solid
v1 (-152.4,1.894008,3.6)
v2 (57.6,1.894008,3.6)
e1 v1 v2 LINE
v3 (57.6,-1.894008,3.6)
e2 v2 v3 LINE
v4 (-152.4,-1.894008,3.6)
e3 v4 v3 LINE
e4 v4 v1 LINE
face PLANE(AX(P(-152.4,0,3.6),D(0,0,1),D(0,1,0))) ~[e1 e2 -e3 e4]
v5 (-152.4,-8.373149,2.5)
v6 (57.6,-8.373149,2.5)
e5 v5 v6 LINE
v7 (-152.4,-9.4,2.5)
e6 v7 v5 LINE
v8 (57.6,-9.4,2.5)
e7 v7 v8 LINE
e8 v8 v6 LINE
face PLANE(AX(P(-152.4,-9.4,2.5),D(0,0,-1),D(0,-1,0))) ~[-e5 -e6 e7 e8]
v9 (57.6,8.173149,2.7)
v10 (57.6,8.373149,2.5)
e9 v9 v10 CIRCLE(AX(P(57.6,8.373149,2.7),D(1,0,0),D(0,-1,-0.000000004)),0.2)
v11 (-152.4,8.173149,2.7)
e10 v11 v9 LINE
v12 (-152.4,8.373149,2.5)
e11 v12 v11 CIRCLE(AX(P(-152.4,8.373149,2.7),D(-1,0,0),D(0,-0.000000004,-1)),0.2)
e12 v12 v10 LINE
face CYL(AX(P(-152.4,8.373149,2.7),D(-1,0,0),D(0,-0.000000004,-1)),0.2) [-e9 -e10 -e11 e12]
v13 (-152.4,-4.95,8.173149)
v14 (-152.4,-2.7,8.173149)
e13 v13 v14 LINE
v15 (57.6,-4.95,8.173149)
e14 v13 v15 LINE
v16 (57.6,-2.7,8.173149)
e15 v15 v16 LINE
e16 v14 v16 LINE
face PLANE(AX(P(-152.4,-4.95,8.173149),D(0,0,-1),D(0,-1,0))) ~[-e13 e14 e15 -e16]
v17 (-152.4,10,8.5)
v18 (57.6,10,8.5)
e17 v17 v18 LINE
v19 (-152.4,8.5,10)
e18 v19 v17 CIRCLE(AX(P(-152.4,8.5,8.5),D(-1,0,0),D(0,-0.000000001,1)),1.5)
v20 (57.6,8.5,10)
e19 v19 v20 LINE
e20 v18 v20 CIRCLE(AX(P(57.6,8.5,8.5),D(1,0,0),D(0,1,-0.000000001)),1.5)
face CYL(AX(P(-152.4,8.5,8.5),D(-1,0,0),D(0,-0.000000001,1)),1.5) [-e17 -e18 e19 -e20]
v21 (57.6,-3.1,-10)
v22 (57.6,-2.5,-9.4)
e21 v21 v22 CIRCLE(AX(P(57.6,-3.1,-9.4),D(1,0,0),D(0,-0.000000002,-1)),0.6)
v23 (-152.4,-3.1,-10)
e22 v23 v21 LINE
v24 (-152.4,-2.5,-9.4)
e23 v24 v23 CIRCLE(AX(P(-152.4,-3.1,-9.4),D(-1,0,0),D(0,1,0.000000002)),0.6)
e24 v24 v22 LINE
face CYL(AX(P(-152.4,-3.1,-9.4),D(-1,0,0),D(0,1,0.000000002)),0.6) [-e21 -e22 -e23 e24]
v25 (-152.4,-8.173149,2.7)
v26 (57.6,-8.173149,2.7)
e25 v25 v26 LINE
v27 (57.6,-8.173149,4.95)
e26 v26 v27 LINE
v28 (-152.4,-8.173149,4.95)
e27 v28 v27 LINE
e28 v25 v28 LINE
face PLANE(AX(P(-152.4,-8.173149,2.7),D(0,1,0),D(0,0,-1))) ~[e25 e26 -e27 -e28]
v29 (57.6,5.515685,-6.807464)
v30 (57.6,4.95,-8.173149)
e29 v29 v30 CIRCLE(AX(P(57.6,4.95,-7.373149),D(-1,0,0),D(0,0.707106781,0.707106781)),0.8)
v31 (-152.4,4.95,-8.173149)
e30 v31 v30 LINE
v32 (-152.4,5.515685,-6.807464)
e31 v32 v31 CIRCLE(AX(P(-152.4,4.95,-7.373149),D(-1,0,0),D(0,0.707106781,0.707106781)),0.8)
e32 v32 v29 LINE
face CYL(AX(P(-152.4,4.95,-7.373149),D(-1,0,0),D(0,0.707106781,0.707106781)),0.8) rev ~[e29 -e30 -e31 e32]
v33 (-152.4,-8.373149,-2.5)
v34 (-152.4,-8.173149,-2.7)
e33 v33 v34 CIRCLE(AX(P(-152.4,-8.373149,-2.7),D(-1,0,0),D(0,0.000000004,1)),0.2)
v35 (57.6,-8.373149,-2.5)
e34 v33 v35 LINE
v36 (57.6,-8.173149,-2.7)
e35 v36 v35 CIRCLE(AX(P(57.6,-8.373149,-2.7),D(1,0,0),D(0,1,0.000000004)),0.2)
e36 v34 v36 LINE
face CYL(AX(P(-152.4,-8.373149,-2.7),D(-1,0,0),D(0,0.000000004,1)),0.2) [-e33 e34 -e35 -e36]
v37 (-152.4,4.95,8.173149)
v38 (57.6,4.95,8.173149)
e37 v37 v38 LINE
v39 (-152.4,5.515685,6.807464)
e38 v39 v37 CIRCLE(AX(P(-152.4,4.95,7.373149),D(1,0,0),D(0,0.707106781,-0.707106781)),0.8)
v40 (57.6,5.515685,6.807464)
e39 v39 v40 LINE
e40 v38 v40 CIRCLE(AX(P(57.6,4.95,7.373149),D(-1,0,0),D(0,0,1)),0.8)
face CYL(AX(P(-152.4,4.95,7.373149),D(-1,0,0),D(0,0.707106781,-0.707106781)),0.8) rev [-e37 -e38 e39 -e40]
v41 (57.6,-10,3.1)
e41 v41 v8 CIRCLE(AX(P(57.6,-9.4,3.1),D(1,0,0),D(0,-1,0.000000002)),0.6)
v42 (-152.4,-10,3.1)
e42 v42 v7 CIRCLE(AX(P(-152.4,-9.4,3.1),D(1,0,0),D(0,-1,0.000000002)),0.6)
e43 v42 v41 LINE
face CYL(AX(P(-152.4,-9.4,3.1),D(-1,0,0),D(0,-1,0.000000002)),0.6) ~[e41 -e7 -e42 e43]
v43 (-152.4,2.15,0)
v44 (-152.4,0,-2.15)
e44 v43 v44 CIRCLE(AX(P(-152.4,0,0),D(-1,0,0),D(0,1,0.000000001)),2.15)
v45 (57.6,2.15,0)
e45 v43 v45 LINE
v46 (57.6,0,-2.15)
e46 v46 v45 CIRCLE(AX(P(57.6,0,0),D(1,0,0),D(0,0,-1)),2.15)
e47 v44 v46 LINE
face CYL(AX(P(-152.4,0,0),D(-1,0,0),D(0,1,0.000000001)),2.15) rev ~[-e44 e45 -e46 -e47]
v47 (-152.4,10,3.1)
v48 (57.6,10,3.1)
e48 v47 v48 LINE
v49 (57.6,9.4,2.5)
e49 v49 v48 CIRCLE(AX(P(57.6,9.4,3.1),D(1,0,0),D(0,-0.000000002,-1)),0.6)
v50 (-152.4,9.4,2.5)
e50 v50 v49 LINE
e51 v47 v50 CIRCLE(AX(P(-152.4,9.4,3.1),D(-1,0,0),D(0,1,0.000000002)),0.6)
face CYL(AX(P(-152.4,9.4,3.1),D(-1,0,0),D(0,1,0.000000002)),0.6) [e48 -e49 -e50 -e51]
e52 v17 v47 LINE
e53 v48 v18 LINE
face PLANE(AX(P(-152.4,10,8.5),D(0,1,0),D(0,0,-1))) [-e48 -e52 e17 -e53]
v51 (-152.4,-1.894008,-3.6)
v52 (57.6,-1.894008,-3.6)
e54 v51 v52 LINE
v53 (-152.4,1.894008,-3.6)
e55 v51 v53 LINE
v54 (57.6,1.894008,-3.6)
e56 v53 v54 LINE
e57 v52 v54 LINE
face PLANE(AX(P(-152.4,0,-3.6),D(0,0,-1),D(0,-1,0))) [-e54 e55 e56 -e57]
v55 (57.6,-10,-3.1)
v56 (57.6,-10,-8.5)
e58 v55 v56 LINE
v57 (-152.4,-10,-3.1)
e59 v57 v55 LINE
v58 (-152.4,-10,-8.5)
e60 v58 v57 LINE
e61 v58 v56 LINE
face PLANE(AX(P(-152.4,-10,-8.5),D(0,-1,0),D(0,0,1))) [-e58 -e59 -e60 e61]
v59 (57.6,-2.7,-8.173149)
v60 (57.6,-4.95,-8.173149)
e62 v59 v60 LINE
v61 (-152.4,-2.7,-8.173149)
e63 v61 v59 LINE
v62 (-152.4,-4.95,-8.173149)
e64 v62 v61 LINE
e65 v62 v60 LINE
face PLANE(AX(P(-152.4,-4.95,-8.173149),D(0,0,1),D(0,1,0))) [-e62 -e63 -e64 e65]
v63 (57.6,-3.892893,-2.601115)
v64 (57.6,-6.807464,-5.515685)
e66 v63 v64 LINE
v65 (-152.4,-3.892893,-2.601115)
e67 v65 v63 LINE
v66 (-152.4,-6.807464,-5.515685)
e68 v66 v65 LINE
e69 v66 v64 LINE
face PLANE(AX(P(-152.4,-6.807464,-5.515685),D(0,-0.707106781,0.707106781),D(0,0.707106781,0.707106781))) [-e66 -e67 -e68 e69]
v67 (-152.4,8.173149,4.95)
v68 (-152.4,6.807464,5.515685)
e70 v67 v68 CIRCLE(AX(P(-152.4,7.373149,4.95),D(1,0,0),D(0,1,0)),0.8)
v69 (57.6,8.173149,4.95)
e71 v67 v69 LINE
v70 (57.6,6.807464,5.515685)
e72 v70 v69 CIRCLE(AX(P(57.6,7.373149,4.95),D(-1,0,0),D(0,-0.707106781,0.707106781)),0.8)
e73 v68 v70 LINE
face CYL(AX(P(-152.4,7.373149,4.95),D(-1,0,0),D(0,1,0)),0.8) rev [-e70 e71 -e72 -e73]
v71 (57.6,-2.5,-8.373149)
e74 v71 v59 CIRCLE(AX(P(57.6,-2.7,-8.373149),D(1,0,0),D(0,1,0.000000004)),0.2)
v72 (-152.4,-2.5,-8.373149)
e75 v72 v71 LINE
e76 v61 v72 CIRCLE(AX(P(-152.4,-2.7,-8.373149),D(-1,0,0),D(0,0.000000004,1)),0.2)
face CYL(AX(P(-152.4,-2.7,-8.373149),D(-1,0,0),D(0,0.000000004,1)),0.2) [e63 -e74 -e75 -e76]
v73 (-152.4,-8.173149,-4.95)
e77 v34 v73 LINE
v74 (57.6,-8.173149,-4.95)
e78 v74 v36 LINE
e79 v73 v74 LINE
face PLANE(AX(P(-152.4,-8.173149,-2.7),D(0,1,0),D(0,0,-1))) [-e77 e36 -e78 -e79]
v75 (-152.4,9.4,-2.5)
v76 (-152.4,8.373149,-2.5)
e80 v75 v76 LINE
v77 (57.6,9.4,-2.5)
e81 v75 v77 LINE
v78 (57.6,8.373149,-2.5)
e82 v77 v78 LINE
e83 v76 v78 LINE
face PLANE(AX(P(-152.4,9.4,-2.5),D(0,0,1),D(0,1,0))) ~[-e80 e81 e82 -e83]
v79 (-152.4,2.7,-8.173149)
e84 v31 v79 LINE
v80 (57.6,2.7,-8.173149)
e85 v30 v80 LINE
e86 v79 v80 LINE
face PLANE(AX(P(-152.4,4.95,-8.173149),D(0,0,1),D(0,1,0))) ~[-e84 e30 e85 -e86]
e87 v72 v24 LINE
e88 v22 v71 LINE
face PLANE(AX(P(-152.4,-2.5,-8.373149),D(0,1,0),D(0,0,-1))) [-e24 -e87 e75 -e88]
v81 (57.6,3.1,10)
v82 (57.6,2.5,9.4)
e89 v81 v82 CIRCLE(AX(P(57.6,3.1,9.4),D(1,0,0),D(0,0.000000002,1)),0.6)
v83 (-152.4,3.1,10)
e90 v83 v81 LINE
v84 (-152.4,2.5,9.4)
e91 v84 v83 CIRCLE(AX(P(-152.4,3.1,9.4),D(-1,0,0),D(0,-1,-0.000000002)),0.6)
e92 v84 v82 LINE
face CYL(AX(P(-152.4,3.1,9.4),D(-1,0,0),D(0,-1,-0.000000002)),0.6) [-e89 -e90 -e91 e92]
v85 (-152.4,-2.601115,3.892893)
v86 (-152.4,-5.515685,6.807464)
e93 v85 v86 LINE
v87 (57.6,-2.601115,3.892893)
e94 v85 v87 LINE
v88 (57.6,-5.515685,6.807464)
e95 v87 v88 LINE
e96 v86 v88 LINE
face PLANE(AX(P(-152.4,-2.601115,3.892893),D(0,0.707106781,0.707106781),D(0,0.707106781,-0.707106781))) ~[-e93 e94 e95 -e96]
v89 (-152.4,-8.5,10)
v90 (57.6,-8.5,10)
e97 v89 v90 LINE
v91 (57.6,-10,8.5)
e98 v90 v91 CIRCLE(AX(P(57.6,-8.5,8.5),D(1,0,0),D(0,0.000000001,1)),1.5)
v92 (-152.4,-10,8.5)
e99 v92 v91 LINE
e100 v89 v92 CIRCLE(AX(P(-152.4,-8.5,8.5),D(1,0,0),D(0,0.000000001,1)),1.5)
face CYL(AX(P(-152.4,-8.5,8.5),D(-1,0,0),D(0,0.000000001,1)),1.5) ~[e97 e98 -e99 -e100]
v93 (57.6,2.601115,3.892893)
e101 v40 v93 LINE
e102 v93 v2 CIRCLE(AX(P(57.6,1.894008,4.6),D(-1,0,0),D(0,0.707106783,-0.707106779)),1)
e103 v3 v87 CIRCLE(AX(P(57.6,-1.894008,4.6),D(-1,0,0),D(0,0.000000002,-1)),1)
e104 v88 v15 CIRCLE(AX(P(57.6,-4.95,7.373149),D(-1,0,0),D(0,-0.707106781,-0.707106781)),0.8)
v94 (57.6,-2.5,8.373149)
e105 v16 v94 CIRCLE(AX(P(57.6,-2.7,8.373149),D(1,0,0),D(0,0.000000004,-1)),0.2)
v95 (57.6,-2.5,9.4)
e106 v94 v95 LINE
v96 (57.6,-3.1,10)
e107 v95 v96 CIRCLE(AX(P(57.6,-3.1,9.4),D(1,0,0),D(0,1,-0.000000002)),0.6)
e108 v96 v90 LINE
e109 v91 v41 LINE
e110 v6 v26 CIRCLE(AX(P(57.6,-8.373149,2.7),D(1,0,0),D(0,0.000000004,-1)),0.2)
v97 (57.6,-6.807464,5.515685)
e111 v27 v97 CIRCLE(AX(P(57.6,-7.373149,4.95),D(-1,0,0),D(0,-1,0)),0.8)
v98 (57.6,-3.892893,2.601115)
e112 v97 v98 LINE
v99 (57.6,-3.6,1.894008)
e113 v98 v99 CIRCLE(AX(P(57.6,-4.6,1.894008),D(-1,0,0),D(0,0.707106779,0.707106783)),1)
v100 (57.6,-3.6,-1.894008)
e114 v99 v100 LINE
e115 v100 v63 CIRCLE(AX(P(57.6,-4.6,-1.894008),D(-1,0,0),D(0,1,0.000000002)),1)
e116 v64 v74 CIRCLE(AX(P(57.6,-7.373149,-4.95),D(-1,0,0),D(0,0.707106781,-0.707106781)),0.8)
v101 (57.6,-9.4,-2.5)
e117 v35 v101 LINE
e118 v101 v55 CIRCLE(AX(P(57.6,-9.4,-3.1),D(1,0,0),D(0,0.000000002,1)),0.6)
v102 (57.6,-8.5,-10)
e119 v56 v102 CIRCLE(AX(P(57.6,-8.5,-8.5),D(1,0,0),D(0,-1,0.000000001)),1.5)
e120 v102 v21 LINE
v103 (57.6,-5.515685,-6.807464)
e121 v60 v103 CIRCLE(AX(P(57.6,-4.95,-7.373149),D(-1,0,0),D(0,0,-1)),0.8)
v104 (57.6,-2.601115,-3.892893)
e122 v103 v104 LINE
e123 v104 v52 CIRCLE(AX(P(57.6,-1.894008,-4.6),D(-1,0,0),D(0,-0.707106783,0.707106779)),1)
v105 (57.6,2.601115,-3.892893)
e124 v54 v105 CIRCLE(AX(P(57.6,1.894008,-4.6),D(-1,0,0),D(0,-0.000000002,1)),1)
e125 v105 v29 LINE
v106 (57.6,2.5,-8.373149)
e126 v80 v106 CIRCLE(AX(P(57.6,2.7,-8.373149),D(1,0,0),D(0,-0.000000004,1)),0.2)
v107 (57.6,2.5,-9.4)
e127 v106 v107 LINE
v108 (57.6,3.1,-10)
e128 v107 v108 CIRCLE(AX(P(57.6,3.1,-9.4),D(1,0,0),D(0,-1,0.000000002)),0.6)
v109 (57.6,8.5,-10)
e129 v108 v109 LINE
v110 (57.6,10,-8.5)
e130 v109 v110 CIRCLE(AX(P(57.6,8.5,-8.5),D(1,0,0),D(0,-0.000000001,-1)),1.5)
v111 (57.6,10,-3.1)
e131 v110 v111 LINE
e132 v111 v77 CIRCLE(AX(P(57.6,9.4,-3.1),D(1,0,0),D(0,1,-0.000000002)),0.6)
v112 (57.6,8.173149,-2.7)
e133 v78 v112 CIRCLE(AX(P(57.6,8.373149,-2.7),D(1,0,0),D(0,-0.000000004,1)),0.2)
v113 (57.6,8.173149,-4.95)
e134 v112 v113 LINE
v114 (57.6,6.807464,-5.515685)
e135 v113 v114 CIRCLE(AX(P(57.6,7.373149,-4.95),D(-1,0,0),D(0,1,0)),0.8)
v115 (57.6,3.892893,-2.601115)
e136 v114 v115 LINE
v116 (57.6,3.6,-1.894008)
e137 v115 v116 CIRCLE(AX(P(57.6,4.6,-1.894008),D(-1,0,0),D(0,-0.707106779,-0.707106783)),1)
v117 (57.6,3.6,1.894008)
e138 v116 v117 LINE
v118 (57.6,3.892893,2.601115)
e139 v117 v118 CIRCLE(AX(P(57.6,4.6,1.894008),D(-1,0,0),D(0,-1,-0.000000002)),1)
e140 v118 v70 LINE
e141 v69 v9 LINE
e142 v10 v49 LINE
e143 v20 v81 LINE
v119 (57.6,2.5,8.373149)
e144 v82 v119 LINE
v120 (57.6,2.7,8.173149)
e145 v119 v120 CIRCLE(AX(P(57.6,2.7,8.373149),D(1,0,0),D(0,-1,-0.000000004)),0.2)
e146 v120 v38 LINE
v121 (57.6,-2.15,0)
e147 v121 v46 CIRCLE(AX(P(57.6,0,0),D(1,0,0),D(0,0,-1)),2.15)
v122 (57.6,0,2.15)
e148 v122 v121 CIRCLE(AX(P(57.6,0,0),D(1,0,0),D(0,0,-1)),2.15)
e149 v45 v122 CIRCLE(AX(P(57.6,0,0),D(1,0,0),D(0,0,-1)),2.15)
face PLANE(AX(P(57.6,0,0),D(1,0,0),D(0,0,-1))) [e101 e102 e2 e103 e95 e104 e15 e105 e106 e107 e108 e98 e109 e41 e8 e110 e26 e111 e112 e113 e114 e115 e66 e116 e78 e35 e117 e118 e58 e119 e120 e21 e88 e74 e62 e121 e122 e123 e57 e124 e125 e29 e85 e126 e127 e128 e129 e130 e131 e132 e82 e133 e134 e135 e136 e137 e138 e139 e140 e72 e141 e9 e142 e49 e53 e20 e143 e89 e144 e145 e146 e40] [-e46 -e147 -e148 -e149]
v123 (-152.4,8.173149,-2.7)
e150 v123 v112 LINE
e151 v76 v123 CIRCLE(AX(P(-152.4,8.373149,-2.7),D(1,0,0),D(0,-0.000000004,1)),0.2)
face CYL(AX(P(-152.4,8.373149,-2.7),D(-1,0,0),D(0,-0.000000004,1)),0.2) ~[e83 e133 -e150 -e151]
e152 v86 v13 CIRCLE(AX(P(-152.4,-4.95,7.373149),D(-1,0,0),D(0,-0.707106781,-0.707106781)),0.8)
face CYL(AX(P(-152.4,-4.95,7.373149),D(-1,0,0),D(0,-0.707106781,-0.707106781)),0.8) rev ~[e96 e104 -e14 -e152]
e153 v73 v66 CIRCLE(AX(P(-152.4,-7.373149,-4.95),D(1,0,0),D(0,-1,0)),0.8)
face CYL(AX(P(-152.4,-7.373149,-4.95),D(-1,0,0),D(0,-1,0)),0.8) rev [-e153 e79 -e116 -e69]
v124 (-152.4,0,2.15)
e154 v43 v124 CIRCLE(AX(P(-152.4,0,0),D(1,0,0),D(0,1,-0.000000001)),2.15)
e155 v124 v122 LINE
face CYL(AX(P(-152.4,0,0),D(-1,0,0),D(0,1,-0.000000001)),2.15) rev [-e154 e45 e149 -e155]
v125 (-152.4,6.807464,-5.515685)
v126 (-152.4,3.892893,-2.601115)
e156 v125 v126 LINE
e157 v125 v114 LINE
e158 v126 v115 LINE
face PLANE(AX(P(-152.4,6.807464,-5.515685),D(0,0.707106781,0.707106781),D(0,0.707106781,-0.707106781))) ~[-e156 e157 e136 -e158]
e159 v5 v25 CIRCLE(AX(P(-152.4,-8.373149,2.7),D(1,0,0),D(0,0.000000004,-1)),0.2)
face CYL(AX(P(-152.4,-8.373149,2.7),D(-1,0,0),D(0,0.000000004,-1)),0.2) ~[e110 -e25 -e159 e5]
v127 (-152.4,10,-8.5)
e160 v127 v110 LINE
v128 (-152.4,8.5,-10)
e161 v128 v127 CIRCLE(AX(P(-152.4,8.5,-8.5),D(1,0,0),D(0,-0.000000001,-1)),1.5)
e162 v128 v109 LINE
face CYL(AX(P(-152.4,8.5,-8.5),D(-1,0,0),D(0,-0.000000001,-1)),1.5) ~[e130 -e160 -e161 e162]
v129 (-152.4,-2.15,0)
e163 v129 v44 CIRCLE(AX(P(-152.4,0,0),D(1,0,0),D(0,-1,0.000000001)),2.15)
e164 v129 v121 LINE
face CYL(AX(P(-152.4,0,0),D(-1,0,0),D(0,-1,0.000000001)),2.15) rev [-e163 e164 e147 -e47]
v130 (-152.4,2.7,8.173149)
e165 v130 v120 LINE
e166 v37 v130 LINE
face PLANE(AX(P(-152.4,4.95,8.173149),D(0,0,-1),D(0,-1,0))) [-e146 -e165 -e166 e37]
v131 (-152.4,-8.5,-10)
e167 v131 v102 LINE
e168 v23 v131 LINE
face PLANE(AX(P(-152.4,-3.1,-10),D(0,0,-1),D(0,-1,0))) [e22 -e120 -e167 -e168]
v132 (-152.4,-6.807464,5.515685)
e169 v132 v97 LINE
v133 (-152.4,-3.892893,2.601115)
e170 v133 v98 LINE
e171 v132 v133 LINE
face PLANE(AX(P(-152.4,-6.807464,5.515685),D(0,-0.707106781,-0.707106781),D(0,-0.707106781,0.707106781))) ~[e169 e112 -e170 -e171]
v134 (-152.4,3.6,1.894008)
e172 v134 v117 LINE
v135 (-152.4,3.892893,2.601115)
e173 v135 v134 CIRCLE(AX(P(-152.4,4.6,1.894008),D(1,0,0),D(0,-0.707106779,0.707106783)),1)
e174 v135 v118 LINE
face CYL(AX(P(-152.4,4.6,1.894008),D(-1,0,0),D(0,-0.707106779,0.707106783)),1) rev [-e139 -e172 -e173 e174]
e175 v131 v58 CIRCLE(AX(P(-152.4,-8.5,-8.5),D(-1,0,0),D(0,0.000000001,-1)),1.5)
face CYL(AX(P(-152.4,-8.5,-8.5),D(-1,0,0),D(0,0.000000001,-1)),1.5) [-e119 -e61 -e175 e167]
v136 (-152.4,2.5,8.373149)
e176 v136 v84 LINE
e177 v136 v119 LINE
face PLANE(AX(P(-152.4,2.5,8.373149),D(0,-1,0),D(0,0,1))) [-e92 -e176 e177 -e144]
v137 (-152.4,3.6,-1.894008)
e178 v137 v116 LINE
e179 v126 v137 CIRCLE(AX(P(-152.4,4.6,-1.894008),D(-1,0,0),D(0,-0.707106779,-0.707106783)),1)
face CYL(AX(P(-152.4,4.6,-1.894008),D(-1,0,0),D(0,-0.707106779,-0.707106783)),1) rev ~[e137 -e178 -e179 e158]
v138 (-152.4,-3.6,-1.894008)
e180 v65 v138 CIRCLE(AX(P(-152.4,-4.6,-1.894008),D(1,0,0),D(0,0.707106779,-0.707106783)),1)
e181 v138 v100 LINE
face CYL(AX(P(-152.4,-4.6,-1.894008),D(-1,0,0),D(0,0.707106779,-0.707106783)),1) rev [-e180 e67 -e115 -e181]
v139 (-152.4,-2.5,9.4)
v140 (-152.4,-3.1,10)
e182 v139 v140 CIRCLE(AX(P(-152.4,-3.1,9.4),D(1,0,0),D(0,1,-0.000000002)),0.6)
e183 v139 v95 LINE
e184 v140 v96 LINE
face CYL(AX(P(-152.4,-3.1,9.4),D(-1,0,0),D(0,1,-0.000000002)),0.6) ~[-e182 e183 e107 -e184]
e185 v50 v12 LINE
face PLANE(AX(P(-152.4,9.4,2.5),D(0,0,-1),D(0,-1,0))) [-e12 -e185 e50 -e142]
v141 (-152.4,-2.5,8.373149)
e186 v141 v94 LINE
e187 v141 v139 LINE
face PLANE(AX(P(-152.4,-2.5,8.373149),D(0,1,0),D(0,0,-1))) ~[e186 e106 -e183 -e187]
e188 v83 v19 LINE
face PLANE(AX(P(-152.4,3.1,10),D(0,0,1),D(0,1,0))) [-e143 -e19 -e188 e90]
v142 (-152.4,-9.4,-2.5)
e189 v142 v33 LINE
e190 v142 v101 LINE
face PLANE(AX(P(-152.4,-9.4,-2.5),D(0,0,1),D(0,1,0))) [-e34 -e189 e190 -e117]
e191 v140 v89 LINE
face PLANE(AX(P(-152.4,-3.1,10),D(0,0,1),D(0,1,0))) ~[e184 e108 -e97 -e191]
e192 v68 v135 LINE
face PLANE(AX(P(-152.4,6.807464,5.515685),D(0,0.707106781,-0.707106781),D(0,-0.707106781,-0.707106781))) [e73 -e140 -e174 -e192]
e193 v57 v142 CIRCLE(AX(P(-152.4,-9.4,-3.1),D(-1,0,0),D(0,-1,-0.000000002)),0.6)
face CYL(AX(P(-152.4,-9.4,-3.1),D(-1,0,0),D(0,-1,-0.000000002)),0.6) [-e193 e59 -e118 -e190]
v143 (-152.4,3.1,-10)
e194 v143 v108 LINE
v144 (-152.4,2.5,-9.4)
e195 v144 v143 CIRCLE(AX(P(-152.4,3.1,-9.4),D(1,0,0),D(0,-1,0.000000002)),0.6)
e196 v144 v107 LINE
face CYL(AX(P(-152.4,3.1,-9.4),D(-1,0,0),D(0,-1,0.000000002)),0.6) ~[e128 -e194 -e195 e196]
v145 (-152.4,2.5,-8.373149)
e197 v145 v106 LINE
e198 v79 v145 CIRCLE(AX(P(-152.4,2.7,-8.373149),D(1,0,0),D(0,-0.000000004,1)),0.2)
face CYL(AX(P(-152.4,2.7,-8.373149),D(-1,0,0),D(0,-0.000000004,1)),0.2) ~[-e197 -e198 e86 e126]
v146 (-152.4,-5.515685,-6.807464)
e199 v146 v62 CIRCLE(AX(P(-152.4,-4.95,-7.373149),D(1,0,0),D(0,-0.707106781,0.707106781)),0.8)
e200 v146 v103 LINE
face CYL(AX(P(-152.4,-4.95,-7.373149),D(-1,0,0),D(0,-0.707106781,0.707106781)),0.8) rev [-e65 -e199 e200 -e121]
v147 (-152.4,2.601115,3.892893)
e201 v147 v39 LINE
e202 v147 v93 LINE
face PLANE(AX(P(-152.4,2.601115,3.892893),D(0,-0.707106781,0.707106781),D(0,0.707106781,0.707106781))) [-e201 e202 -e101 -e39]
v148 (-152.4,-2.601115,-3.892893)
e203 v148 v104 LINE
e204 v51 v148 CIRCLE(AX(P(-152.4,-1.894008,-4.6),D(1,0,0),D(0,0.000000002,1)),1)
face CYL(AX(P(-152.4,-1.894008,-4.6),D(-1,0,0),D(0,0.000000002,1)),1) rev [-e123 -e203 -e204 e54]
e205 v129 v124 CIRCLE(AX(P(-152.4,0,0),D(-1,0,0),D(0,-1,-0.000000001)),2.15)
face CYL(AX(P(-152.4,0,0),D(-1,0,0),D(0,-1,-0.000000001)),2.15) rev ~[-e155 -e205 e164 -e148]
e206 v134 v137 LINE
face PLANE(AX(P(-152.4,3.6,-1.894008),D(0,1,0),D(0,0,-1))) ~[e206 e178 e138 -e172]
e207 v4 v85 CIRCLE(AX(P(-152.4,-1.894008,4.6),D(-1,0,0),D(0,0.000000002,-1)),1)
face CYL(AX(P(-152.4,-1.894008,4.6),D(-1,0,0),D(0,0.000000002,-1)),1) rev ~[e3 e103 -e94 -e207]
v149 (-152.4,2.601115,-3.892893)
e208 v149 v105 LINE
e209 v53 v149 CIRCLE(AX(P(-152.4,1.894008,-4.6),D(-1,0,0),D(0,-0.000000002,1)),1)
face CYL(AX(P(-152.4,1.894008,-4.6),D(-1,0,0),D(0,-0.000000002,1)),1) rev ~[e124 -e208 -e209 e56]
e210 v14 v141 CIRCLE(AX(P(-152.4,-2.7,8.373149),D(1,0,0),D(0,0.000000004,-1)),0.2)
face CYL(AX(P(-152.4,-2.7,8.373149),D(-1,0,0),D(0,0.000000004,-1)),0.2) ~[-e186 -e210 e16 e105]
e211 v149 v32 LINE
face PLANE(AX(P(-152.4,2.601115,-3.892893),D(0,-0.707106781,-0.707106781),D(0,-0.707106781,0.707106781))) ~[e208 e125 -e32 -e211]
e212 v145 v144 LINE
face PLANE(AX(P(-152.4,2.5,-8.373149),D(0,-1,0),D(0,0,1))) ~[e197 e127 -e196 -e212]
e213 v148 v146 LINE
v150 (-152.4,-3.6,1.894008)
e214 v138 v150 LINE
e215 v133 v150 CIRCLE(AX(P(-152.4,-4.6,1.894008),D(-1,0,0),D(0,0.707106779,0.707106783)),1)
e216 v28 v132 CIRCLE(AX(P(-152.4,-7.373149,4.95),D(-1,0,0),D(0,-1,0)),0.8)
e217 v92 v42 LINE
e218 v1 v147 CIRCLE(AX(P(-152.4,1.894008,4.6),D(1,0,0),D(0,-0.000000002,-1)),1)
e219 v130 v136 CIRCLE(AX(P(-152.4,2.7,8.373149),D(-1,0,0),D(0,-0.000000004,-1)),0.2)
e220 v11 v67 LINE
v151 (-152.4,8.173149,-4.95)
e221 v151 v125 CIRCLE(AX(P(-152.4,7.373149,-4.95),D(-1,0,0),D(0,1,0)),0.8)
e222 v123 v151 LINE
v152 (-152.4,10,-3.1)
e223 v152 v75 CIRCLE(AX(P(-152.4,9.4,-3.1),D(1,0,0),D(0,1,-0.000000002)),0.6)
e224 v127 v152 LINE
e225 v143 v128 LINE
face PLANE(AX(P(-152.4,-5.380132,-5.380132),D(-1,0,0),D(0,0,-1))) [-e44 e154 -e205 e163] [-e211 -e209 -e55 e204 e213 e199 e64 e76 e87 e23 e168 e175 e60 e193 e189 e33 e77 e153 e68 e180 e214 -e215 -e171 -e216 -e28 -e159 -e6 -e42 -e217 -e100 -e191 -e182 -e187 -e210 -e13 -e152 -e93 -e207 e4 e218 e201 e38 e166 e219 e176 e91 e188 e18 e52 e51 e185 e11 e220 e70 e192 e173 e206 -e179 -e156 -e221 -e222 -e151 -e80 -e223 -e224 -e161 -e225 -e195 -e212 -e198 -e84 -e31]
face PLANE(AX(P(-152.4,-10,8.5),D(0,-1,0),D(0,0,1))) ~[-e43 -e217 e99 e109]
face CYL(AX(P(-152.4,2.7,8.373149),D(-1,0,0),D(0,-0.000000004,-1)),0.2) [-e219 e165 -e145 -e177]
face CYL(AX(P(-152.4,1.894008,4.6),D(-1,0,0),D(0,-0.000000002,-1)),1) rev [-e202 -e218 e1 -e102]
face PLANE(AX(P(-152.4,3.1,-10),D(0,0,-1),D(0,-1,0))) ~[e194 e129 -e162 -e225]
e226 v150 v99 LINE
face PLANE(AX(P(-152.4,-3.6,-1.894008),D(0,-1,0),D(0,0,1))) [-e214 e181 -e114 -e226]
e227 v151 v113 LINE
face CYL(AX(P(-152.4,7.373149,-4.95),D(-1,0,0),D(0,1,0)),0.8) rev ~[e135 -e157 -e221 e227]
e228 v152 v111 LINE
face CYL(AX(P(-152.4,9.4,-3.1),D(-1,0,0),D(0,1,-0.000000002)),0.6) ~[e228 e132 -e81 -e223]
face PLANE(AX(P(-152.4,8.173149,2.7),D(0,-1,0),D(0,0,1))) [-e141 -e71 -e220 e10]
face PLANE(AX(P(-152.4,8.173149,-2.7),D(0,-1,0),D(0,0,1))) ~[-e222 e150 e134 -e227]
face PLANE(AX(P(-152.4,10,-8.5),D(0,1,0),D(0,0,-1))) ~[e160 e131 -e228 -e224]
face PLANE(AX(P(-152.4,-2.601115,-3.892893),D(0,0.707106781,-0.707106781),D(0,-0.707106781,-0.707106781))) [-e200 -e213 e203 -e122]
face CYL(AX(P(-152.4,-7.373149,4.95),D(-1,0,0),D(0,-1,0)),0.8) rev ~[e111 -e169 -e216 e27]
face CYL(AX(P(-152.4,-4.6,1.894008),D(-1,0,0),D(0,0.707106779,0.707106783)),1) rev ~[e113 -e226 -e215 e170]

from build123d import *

# Parameters (mm, degrees)
BOSS_EXTRUDE1_DEPTH      = 152.4
BOSS_EXTRUDE1_DEPTH_BACK = 152.4
CUT_EXTRUDE1_START       = -94.8
SKETCH4_R                = 2.15
CUT_EXTRUDE1_DEPTH       = 94.8


with BuildPart() as part:
    # Sketch3 → Boss-Extrude1 (new, two sides: drawn at the far end of the back side and taken through both)
    with BuildSketch(Plane(origin=(0, 0, 0), x_dir=(0, 0, -1), z_dir=(1, 0, 0)).offset(-BOSS_EXTRUDE1_DEPTH_BACK)):
        with BuildLine():
            Line((-5.515685425, 6.807463915), (-2.601114729, 3.892893219))
            ThreePointArc((-2.601114729, 3.892893219), (-2.27669138, 3.676120467), (-1.894007948, 3.6))
            Line((-1.894007948, 3.6), (0, 3.6))
            Line((0, 3.6), (0, 2.15))
            ThreePointArc((0, 2.15), (-1.52027958, 1.52027958), (-2.15, 0))
            Line((-2.15, 0), (-3.6, 0))
            Line((-3.6, 0), (-3.6, 1.894007948))
            ThreePointArc((-3.6, 1.894007948), (-3.676120467, 2.27669138), (-3.892893219, 2.601114729))
            Line((-3.892893219, 2.601114729), (-6.807463915, 5.515685425))
            ThreePointArc((-6.807463915, 5.515685425), (-7.679296086, 5.689103626), (-8.17314934, 4.95))
            Line((-8.17314934, 4.95), (-8.17314934, 2.7))
            ThreePointArc((-8.17314934, 2.7), (-8.231727984, 2.558578644), (-8.37314934, 2.5))
            Line((-8.37314934, 2.5), (-9.4, 2.5))
            ThreePointArc((-9.4, 2.5), (-9.824264069, 2.675735931), (-10, 3.1))
            Line((-10, 3.1), (-10, 8.5))
            ThreePointArc((-10, 8.5), (-9.560660172, 9.560660172), (-8.5, 10))
            Line((-8.5, 10), (-3.1, 10))
            ThreePointArc((-3.1, 10), (-2.675735931, 9.824264069), (-2.5, 9.4))
            Line((-2.5, 9.4), (-2.5, 8.37314934))
            ThreePointArc((-2.5, 8.37314934), (-2.558578644, 8.231727984), (-2.7, 8.17314934))
            Line((-2.7, 8.17314934), (-4.95, 8.17314934))
            ThreePointArc((-4.95, 8.17314934), (-5.689103626, 7.679296086), (-5.515685425, 6.807463915))
        make_face()
    extrude(amount=BOSS_EXTRUDE1_DEPTH + BOSS_EXTRUDE1_DEPTH_BACK)

    # Mirror1: part across plane


with BuildPart() as part_1:
    add(part.part)
    add(part.part.mirror(Plane.ZX))

    # Mirror2: part across plane


with BuildPart() as part_2:
    add(part_1.part)
    add(part_1.part.mirror(Plane.XY))

    # Sketch4 → Cut-Extrude1 (cut)
    with BuildSketch(Plane(origin=(152.4, 0, 0), x_dir=(0, 0, -1), z_dir=(1, 0, 0)).offset(CUT_EXTRUDE1_START)):
        with BuildLine():
            Line((1.894007948, 3.6), (-1.894007948, 3.6))
            ThreePointArc((-1.894007948, 3.6), (-2.27669138, 3.676120467), (-2.601114729, 3.892893219))
            Line((-2.601114729, 3.892893219), (-5.515685425, 6.807463915))
            ThreePointArc((-5.515685425, 6.807463915), (-5.689103626, 7.679296086), (-4.95, 8.17314934))
            Line((-4.95, 8.17314934), (-2.7, 8.17314934))
            ThreePointArc((-2.7, 8.17314934), (-2.558578644, 8.231727984), (-2.5, 8.37314934))
            Line((-2.5, 8.37314934), (-2.5, 9.4))
            ThreePointArc((-2.5, 9.4), (-2.675735931, 9.824264069), (-3.1, 10))
            Line((-3.1, 10), (-8.5, 10))
            ThreePointArc((-8.5, 10), (-9.560660172, 9.560660172), (-10, 8.5))
            Line((-10, 8.5), (-10, 3.1))
            ThreePointArc((-10, 3.1), (-9.824264069, 2.675735931), (-9.4, 2.5))
            Line((-9.4, 2.5), (-8.37314934, 2.5))
            ThreePointArc((-8.37314934, 2.5), (-8.231727984, 2.558578644), (-8.17314934, 2.7))
            Line((-8.17314934, 2.7), (-8.17314934, 4.95))
            ThreePointArc((-8.17314934, 4.95), (-7.679296086, 5.689103626), (-6.807463915, 5.515685425))
            Line((-6.807463915, 5.515685425), (-3.892893219, 2.601114729))
            ThreePointArc((-3.892893219, 2.601114729), (-3.676120467, 2.27669138), (-3.6, 1.894007948))
            Line((-3.6, 1.894007948), (-3.6, -1.894007948))
            ThreePointArc((-3.6, -1.894007948), (-3.676120467, -2.27669138), (-3.892893219, -2.601114729))
            Line((-3.892893219, -2.601114729), (-6.807463915, -5.515685425))
            ThreePointArc((-6.807463915, -5.515685425), (-7.679296086, -5.689103626), (-8.17314934, -4.95))
            Line((-8.17314934, -4.95), (-8.17314934, -2.7))
            ThreePointArc((-8.17314934, -2.7), (-8.231727984, -2.558578644), (-8.37314934, -2.5))
            Line((-8.37314934, -2.5), (-9.4, -2.5))
            ThreePointArc((-9.4, -2.5), (-9.824264069, -2.675735931), (-10, -3.1))
            Line((-10, -3.1), (-10, -8.5))
            ThreePointArc((-10, -8.5), (-9.560660172, -9.560660172), (-8.5, -10))
            Line((-8.5, -10), (-3.1, -10))
            ThreePointArc((-3.1, -10), (-2.675735931, -9.824264069), (-2.5, -9.4))
            Line((-2.5, -9.4), (-2.5, -8.37314934))
            ThreePointArc((-2.5, -8.37314934), (-2.558578644, -8.231727984), (-2.7, -8.17314934))
            Line((-2.7, -8.17314934), (-4.95, -8.17314934))
            ThreePointArc((-4.95, -8.17314934), (-5.689103626, -7.679296086), (-5.515685425, -6.807463915))
            Line((-5.515685425, -6.807463915), (-2.601114729, -3.892893219))
            ThreePointArc((-2.601114729, -3.892893219), (-2.27669138, -3.676120467), (-1.894007948, -3.6))
            Line((-1.894007948, -3.6), (1.894007948, -3.6))
            ThreePointArc((1.894007948, -3.6), (2.27669138, -3.676120467), (2.601114729, -3.892893219))
            Line((2.601114729, -3.892893219), (5.515685425, -6.807463915))
            ThreePointArc((5.515685425, -6.807463915), (5.689103626, -7.679296086), (4.95, -8.17314934))
            Line((4.95, -8.17314934), (2.7, -8.17314934))
            ThreePointArc((2.7, -8.17314934), (2.558578644, -8.231727984), (2.5, -8.37314934))
            Line((2.5, -8.37314934), (2.5, -9.4))
            ThreePointArc((2.5, -9.4), (2.675735931, -9.824264069), (3.1, -10))
            Line((3.1, -10), (8.5, -10))
            ThreePointArc((8.5, -10), (9.560660172, -9.560660172), (10, -8.5))
            Line((10, -8.5), (10, -3.1))
            ThreePointArc((10, -3.1), (9.824264069, -2.675735931), (9.4, -2.5))
            Line((9.4, -2.5), (8.37314934, -2.5))
            ThreePointArc((8.37314934, -2.5), (8.231727984, -2.558578644), (8.17314934, -2.7))
            Line((8.17314934, -2.7), (8.17314934, -4.95))
            ThreePointArc((8.17314934, -4.95), (7.679296086, -5.689103626), (6.807463915, -5.515685425))
            Line((6.807463915, -5.515685425), (3.892893219, -2.601114729))
            ThreePointArc((3.892893219, -2.601114729), (3.676120467, -2.27669138), (3.6, -1.894007948))
            Line((3.6, -1.894007948), (3.6, 1.894007948))
            ThreePointArc((3.6, 1.894007948), (3.676120467, 2.27669138), (3.892893219, 2.601114729))
            Line((3.892893219, 2.601114729), (6.807463915, 5.515685425))
            ThreePointArc((6.807463915, 5.515685425), (7.679296086, 5.689103626), (8.17314934, 4.95))
            Line((8.17314934, 4.95), (8.17314934, 2.7))
            ThreePointArc((8.17314934, 2.7), (8.231727984, 2.558578644), (8.37314934, 2.5))
            Line((8.37314934, 2.5), (9.4, 2.5))
            ThreePointArc((9.4, 2.5), (9.824264069, 2.675735931), (10, 3.1))
            Line((10, 3.1), (10, 8.5))
            ThreePointArc((10, 8.5), (9.560660172, 9.560660172), (8.5, 10))
            Line((8.5, 10), (3.1, 10))
            ThreePointArc((3.1, 10), (2.675735931, 9.824264069), (2.5, 9.4))
            Line((2.5, 9.4), (2.5, 8.37314934))
            ThreePointArc((2.5, 8.37314934), (2.558578644, 8.231727984), (2.7, 8.17314934))
            Line((2.7, 8.17314934), (4.95, 8.17314934))
            ThreePointArc((4.95, 8.17314934), (5.689103626, 7.679296086), (5.515685425, 6.807463915))
            Line((5.515685425, 6.807463915), (2.601114729, 3.892893219))
            ThreePointArc((2.601114729, 3.892893219), (2.27669138, 3.676120467), (1.894007948, 3.6))
        make_face()
        Circle(SKETCH4_R, mode=Mode.SUBTRACT)
    extrude(amount=CUT_EXTRUDE1_DEPTH, mode=Mode.SUBTRACT)


solid = part_2.part
